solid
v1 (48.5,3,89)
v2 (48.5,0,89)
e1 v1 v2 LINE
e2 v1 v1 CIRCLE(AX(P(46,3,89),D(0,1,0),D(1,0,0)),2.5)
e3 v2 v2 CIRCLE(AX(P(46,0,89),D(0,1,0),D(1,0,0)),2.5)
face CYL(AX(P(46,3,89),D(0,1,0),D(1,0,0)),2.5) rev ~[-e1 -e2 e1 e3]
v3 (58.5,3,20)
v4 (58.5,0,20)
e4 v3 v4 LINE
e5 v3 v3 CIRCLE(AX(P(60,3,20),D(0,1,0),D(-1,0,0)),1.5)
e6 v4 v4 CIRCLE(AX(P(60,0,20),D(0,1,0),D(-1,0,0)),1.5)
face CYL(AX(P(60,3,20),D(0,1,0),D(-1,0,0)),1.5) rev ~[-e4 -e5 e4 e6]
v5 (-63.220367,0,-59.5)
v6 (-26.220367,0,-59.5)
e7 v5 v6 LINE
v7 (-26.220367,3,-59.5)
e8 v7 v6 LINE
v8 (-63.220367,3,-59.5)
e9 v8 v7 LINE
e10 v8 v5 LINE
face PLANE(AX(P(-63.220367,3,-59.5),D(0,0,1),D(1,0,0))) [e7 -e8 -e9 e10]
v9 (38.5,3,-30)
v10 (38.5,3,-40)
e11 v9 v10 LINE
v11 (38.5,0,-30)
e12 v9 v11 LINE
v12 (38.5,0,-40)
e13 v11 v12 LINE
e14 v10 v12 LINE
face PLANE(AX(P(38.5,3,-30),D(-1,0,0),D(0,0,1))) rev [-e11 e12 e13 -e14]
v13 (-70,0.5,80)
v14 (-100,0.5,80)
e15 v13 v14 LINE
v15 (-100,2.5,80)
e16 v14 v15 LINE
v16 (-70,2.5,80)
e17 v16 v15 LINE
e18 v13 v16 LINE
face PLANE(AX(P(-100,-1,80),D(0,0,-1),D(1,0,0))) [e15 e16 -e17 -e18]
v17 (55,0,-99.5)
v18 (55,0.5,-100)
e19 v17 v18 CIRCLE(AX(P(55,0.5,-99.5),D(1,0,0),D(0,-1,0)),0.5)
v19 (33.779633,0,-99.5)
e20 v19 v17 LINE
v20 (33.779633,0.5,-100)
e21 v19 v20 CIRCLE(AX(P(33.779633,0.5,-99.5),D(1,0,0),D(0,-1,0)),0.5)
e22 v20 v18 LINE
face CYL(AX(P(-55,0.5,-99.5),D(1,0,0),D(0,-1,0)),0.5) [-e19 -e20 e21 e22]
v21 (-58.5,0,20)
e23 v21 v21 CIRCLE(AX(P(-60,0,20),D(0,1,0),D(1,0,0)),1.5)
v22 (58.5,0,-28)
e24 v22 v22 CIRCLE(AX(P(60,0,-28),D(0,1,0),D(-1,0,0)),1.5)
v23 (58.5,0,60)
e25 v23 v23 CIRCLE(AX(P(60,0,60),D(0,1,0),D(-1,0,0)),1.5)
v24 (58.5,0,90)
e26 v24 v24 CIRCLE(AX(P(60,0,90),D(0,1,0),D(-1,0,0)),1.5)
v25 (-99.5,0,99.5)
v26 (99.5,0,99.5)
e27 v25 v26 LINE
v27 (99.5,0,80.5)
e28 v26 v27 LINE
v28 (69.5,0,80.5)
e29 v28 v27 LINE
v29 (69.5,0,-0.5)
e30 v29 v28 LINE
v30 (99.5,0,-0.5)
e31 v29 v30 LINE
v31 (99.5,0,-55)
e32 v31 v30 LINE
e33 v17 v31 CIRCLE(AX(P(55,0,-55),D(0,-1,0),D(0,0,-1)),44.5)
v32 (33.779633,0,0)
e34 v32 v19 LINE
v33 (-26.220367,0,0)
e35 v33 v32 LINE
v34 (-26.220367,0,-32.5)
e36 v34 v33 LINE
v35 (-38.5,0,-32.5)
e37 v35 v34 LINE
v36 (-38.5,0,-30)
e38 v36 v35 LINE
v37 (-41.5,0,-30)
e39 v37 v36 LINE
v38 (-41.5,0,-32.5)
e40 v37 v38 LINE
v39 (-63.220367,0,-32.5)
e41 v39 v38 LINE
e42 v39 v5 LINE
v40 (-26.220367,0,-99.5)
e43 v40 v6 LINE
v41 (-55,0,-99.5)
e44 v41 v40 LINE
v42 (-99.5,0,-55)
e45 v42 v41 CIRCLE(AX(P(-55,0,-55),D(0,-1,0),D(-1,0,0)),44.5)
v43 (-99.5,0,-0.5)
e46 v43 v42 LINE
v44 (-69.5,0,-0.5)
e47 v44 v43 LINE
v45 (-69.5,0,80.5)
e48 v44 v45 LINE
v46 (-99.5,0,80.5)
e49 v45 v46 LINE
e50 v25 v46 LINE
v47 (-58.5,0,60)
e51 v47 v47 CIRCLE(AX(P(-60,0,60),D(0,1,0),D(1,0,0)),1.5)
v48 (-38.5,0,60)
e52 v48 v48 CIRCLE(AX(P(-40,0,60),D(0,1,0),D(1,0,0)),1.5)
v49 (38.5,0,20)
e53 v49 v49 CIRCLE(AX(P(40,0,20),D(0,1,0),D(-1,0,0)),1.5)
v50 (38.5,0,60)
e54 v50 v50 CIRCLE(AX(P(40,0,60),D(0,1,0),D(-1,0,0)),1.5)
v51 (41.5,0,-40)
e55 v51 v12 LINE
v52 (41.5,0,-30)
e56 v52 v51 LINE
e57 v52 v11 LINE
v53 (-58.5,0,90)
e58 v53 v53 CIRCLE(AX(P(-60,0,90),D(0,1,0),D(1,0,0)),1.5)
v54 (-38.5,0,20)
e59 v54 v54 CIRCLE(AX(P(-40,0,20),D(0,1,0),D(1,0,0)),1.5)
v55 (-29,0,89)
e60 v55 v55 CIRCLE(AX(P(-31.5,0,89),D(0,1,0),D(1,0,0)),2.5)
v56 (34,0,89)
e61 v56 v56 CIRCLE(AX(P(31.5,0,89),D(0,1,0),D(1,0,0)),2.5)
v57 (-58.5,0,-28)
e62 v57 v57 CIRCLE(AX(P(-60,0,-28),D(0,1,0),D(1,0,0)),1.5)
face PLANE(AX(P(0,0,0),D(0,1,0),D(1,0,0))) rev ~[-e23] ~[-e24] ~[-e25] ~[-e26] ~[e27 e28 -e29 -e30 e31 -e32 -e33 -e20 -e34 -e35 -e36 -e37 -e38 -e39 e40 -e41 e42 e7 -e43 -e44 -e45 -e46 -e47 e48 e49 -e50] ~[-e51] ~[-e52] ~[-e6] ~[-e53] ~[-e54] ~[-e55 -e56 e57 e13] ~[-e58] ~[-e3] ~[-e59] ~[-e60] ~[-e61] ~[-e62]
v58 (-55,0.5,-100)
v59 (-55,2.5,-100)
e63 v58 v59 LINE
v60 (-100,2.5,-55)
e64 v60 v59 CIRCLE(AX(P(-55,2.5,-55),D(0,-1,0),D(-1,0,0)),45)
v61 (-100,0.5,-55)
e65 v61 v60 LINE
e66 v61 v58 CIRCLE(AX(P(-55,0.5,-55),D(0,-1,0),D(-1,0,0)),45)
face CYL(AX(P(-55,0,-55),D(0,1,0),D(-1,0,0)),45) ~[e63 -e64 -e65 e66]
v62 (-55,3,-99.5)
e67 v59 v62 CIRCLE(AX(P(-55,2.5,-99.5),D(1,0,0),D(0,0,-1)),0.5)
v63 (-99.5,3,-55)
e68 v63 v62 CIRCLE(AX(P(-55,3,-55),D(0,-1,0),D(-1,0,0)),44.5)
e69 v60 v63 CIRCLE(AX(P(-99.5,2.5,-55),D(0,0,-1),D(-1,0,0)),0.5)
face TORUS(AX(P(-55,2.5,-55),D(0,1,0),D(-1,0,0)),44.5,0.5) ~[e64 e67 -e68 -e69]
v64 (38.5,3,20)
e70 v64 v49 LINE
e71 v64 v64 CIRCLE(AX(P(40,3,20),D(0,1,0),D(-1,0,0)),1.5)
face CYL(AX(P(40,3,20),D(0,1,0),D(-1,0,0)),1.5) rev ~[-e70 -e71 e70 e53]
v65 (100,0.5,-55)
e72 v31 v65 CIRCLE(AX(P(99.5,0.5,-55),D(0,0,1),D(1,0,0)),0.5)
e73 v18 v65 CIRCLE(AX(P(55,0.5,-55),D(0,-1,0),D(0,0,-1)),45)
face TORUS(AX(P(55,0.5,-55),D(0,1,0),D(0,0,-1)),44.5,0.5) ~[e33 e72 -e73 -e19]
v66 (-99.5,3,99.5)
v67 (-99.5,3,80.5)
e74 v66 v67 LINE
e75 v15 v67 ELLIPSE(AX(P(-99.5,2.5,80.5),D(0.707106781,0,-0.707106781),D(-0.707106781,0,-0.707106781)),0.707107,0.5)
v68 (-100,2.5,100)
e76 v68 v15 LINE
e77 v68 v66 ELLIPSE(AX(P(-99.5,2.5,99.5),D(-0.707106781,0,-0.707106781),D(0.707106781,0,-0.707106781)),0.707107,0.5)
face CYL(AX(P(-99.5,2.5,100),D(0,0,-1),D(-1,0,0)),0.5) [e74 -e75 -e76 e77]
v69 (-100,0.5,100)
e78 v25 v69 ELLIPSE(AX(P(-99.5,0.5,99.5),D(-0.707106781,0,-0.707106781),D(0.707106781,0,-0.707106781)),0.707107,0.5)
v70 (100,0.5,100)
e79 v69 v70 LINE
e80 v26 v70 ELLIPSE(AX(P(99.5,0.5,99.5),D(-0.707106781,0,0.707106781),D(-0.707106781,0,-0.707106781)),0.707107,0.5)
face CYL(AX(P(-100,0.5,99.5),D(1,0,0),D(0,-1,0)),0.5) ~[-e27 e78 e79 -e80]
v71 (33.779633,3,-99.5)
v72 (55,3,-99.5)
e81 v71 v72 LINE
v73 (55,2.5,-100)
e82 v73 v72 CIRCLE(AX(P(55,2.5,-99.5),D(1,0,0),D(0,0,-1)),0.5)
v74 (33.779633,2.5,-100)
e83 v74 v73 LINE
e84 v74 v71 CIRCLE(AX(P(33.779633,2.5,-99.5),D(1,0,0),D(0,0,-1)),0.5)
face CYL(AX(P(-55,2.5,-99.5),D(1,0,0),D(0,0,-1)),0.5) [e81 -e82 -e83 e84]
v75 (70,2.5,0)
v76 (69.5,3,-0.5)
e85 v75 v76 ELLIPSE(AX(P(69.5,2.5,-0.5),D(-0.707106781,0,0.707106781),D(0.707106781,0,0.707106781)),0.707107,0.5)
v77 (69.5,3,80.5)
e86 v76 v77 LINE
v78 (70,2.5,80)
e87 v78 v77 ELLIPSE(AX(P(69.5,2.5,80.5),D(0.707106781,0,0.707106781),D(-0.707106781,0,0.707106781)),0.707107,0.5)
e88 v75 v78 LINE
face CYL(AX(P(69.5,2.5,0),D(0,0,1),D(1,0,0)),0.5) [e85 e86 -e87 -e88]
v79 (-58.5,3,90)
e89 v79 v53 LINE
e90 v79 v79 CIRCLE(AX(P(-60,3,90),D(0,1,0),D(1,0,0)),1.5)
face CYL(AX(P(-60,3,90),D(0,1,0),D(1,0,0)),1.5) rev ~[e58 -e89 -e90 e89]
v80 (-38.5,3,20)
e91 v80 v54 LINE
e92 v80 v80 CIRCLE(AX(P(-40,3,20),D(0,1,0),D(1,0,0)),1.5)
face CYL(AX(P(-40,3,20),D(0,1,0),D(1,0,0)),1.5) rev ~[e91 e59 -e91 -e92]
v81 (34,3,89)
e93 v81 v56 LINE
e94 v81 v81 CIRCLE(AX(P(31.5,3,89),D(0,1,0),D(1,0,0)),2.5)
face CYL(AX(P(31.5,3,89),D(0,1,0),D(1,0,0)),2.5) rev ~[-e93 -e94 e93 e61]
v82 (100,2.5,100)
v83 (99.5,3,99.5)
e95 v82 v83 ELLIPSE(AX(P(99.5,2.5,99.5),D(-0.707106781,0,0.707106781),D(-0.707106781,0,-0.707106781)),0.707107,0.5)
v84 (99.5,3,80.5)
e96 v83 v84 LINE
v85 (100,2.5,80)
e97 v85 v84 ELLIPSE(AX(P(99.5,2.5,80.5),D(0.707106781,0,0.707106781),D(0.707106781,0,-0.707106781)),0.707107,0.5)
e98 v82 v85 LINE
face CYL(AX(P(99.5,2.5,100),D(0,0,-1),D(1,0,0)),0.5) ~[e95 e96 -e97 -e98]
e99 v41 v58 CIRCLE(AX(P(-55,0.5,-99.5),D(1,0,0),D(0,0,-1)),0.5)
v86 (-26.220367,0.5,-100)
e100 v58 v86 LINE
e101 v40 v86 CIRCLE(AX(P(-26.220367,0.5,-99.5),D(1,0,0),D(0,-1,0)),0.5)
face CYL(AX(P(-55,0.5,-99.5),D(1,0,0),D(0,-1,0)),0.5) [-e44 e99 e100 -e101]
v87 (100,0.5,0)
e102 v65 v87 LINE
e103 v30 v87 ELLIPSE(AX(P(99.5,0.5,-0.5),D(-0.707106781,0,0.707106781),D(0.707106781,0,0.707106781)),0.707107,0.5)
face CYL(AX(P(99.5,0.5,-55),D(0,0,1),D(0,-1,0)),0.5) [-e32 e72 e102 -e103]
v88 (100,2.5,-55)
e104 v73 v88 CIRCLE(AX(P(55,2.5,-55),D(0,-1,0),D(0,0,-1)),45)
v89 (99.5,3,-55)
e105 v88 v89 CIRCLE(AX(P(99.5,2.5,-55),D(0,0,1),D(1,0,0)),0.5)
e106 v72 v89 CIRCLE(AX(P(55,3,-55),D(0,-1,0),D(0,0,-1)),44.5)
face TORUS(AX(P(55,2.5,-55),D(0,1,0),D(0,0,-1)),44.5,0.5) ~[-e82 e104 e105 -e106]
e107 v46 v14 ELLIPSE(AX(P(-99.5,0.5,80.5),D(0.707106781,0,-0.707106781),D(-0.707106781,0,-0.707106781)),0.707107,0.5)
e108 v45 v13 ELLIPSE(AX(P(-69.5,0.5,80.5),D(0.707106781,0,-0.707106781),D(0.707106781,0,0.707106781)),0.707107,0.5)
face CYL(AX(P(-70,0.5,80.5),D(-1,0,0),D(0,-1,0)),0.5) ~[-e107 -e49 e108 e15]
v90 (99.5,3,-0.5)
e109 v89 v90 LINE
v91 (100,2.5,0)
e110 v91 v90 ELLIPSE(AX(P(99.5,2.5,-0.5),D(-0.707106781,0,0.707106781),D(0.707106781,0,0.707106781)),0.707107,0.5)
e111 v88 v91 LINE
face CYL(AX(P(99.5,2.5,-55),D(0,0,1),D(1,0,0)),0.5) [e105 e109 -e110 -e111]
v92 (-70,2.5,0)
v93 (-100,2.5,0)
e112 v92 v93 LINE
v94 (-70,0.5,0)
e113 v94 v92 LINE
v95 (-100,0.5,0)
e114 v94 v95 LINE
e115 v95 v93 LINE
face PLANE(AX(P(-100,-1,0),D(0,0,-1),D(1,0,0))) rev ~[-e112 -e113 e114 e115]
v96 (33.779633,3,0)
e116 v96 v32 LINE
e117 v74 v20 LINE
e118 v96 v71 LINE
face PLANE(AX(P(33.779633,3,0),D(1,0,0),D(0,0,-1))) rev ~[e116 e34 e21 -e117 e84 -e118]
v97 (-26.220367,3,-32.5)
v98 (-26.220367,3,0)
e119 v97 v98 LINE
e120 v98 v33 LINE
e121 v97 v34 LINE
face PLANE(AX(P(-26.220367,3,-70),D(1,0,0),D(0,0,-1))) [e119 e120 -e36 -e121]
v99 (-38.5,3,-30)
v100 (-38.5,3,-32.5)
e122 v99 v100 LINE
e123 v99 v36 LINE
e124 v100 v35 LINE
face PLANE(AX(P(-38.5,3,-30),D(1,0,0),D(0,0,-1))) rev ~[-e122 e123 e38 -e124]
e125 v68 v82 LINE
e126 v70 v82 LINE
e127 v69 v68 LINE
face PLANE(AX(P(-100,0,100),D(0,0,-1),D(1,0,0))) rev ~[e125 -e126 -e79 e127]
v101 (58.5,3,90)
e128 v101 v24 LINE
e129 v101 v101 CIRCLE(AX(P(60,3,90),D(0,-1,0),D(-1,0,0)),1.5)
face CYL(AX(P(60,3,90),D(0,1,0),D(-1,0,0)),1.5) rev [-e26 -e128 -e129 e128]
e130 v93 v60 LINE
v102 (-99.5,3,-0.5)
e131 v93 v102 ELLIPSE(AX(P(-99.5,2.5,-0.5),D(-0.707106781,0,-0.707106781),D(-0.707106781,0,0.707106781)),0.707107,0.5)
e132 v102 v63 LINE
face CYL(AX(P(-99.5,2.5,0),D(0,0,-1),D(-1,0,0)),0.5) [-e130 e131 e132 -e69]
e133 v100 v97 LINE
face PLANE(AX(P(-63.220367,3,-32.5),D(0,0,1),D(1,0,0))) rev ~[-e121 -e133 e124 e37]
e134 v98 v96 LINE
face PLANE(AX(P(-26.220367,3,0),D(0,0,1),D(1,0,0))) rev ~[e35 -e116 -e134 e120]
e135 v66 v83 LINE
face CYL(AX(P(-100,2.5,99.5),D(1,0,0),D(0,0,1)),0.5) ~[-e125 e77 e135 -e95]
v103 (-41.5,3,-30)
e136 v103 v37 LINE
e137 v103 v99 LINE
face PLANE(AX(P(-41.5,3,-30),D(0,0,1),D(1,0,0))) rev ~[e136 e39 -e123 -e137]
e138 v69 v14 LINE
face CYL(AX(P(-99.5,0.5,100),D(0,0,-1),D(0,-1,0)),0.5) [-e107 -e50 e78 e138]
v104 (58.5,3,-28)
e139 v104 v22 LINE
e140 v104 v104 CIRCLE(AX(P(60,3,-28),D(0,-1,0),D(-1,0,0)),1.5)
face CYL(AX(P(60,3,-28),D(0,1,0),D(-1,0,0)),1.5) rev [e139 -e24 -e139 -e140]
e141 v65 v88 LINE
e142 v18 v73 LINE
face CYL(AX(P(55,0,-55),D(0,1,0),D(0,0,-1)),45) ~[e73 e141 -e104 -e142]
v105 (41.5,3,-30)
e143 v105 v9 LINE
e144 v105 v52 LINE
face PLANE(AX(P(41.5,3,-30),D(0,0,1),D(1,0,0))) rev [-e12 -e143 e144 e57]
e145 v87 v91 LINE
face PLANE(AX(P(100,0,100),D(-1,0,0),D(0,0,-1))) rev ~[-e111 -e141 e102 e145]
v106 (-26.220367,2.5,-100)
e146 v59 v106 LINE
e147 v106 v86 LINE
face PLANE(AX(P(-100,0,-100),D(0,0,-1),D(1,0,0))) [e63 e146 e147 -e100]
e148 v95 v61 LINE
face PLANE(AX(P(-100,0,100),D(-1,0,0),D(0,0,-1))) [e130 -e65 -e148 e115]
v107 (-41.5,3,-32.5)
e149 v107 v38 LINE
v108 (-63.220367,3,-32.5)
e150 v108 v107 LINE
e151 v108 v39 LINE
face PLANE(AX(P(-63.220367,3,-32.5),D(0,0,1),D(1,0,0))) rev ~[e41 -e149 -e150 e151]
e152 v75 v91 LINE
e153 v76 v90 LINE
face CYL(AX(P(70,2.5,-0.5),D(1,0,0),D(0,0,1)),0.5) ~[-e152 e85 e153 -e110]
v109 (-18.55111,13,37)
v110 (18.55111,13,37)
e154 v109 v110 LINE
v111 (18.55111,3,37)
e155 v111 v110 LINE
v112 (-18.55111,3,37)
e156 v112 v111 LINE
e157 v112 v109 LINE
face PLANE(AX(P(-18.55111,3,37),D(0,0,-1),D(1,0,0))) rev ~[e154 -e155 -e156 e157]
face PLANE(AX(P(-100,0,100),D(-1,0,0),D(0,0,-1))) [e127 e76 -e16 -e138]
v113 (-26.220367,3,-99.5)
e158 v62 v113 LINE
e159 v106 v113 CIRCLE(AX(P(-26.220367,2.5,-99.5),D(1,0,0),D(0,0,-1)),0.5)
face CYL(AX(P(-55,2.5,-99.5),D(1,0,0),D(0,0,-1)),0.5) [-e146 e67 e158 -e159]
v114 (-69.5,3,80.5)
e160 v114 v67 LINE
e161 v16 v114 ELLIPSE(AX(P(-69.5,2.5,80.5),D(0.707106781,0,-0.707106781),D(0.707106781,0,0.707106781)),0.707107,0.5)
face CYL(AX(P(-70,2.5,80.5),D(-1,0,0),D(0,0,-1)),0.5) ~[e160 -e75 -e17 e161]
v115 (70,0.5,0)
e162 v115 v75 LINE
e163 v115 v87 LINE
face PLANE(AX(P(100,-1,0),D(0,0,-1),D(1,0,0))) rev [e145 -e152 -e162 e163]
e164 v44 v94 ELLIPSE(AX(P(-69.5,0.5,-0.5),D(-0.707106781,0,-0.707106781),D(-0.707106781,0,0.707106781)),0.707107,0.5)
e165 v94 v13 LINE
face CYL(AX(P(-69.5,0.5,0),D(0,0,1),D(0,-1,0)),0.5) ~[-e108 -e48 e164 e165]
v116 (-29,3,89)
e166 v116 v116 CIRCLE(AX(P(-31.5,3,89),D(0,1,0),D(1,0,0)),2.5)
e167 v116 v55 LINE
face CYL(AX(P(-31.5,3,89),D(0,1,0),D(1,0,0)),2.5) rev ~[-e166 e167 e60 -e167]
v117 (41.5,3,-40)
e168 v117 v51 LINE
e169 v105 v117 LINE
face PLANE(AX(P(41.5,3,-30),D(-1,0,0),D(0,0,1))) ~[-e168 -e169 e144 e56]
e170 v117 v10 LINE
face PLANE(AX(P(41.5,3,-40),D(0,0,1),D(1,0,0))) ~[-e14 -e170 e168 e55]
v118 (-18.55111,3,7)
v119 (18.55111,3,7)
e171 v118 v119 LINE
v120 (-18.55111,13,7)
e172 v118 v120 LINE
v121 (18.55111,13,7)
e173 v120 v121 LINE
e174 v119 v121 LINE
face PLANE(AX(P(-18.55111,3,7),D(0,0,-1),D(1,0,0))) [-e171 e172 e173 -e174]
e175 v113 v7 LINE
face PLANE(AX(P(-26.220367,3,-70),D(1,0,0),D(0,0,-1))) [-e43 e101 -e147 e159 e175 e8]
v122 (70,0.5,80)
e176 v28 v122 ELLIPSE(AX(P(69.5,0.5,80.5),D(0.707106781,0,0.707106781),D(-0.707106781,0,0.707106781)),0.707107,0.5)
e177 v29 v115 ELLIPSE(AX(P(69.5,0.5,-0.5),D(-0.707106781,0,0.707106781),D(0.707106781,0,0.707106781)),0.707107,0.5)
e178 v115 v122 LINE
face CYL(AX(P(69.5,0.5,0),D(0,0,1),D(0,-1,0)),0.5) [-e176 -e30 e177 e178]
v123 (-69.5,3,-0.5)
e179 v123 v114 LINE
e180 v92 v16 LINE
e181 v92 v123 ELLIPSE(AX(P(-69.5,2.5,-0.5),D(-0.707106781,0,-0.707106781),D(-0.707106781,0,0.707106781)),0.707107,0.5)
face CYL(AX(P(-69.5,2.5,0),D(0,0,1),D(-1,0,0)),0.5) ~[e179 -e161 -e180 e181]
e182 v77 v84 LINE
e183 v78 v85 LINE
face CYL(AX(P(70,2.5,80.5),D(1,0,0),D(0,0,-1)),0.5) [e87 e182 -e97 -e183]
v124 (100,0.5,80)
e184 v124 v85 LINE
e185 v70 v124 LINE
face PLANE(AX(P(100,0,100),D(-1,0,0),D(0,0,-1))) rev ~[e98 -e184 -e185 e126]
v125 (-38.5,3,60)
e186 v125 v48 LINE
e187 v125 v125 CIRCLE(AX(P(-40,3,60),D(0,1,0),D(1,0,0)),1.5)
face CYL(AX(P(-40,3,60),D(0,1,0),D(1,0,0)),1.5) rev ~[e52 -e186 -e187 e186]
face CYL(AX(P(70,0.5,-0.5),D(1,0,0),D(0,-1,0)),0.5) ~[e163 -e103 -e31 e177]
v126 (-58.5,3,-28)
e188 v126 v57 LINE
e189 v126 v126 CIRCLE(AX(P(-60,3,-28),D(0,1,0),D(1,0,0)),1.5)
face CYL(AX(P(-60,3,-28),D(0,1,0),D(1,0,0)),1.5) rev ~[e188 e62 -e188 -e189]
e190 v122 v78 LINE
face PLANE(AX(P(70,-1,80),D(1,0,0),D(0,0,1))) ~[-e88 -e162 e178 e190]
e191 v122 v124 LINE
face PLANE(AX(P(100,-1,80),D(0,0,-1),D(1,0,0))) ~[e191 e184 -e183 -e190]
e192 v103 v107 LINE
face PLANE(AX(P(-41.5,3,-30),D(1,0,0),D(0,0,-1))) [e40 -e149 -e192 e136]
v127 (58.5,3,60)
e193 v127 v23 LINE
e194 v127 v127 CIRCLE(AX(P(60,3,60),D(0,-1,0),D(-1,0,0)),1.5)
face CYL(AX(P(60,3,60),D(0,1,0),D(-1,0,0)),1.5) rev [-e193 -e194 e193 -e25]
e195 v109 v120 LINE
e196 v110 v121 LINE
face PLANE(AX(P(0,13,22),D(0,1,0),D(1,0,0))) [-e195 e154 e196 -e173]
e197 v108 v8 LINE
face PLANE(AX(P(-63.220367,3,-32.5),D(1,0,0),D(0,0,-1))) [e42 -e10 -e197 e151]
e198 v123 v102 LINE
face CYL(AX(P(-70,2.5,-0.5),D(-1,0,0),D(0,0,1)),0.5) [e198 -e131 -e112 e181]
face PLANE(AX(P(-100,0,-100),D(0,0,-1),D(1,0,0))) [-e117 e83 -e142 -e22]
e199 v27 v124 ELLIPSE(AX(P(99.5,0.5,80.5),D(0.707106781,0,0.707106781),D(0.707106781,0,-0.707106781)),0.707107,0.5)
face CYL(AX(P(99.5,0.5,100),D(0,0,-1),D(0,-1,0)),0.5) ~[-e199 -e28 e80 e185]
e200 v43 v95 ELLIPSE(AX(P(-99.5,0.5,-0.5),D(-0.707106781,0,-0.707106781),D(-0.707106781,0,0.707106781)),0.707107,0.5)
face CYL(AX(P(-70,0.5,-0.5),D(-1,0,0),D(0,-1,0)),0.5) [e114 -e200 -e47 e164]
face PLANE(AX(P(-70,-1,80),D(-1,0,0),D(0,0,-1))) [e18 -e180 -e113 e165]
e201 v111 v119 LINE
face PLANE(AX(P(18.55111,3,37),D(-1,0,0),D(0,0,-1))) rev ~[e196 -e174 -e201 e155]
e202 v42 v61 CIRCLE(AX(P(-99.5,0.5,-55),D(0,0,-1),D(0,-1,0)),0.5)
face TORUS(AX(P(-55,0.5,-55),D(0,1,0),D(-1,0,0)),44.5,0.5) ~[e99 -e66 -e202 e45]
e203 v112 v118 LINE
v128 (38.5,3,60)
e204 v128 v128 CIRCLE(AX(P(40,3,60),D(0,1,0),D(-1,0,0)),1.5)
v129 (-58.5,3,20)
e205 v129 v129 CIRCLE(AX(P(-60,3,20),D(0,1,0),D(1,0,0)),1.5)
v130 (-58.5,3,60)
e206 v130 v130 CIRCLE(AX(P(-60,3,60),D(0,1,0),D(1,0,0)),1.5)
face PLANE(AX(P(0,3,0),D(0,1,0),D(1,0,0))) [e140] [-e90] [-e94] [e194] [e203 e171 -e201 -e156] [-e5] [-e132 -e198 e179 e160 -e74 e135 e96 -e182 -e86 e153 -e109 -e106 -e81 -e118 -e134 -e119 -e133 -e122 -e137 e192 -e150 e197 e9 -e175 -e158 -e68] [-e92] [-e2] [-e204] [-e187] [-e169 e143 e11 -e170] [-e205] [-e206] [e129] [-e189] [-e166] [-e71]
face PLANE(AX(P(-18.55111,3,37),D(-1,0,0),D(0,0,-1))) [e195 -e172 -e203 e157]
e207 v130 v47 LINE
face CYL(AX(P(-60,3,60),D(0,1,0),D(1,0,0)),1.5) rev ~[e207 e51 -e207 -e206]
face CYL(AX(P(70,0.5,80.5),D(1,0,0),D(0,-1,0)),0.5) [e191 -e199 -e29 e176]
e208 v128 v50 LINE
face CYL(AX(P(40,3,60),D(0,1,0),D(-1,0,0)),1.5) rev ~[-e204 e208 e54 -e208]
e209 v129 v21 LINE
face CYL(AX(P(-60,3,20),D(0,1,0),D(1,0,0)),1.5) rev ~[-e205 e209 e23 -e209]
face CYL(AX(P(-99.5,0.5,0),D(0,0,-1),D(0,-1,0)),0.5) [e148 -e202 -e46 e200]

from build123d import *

# Parameters (mm, degrees)
SKETCH1_W               = 200
SKETCH1_H               = 200
BOSS_EXTRUDE1_DEPTH     = 3
CUT_EXTRUDE1_START      = -4
SKETCH2_W               = 30
SKETCH2_H               = 80
CUT_EXTRUDE1_DEPTH      = 14
FILLET1_R               = 45
SKETCH10_R              = 1.5
CUT_EXTRUDE9_DEPTH      = 4
LPATTERN1_COUNT         = 2
LPATTERN1_PITCH         = 40
LPATTERN1_COUNT_DIR2    = 2
LPATTERN1_PITCH_DIR2    = 20
SKETCH13_R              = 1.5
SKETCH13_W              = 3
SKETCH13_H              = 10
CUT_EXTRUDE10_DEPTH     = 4
SKETCH14_R              = 1.5
CUT_EXTRUDE11_DEPTH     = 4
MIRROR1_COPY_1_SKETCH_R = 1.5
MIRROR1_COPY_1_DEPTH    = 4
MIRROR1_COPY_2_SKETCH_R = 1.5
MIRROR1_COPY_2_DEPTH    = 4
MIRROR1_COPY_3_SKETCH_R = 1.5
MIRROR1_COPY_3_DEPTH    = 4
FILLET2_R               = 0.5
SKETCH23_W              = 60
SKETCH23_H              = 70
CUT_EXTRUDE13_DEPTH     = 10
SKETCH25_W              = 60
SKETCH25_H              = 33
CUT_EXTRUDE15_DEPTH     = 10
SKETCH26_W              = 37.10221973
SKETCH26_H              = 30
BOSS_EXTRUDE3_DEPTH     = 10
SKETCH27_W              = 37
SKETCH27_H              = 27
CUT_EXTRUDE16_DEPTH     = 10
SKETCH30_R              = 2.5
CUT_EXTRUDE17_DEPTH     = 10
SKETCH31_R              = 2.5
CUT_EXTRUDE18_DEPTH     = 10


with BuildPart() as part:
    # Sketch1 → Boss-Extrude1 (new body)
    with BuildSketch(Plane(origin=(0, 0, 0), x_dir=(1, 0, 0), z_dir=(0, 1, 0))):
        Rectangle(SKETCH1_W, SKETCH1_H)
    extrude(amount=BOSS_EXTRUDE1_DEPTH)

    # Sketch2 → Cut-Extrude1 (cut)
    with BuildSketch(Plane(origin=(0, 3, 0), x_dir=(1, 0, 0), z_dir=(0, 1, 0)).offset(CUT_EXTRUDE1_START)):
        with Locations((-85, -40)):
            Rectangle(SKETCH2_W, SKETCH2_H)
    cut_extrude1 = extrude(amount=CUT_EXTRUDE1_DEPTH, mode=Mode.SUBTRACT)

    # Fillet1
    fillet1_edges = [part.edges().sort_by_distance(p)[0] for p in [
        (-100, 1.5, -100),
        (100, 1.5, -100),
    ]]
    fillet(fillet1_edges, radius=FILLET1_R)

    # Sketch10 → Cut-Extrude9 (cut, through all)
    with BuildSketch(Plane(origin=(0, 3, 0), x_dir=(1, 0, 0), z_dir=(0, 1, 0))):
        with Locations((-60, -60)):
            Circle(SKETCH10_R)
    cut_extrude9 = extrude(amount=-CUT_EXTRUDE9_DEPTH, mode=Mode.SUBTRACT)

    # LPattern1: Cut-Extrude9 2 × 2
    with Locations(*[(j * LPATTERN1_PITCH_DIR2, 0, -i * LPATTERN1_PITCH) for i in range(LPATTERN1_COUNT) for j in range(LPATTERN1_COUNT_DIR2) if (i, j) != (0, 0)]):
        add(cut_extrude9, mode=Mode.SUBTRACT)

    # Sketch13 → Cut-Extrude10 (cut, through all)
    with BuildSketch(Plane(origin=(0, 3, 0), x_dir=(1, 0, 0), z_dir=(0, 1, 0))):
        with Locations((-60, 28)):
            Circle(SKETCH13_R)
        with Locations((-40, 35)):
            Rectangle(SKETCH13_W, SKETCH13_H)
    cut_extrude10 = extrude(amount=-CUT_EXTRUDE10_DEPTH, mode=Mode.SUBTRACT)

    # Sketch14 → Cut-Extrude11 (cut, through all)
    with BuildSketch(Plane(origin=(0, 3, 0), x_dir=(1, 0, 0), z_dir=(0, 1, 0))):
        with Locations((-60, -90)):
            Circle(SKETCH14_R)
    cut_extrude11 = extrude(amount=-CUT_EXTRUDE11_DEPTH, mode=Mode.SUBTRACT)

    # Mirror1: Cut-Extrude10, Cut-Extrude9, Cut-Extrude1, Cut-Extrude11 across plane
    add(cut_extrude10.mirror(Plane(origin=(0, 0, 0), x_dir=(0, 0, 1), z_dir=(1, 0, 0))), mode=Mode.SUBTRACT)
    add(cut_extrude9.mirror(Plane(origin=(0, 0, 0), x_dir=(0, 0, 1), z_dir=(1, 0, 0))), mode=Mode.SUBTRACT)
    add(cut_extrude1.mirror(Plane(origin=(0, 0, 0), x_dir=(0, 0, 1), z_dir=(1, 0, 0))), mode=Mode.SUBTRACT)
    add(cut_extrude11.mirror(Plane(origin=(0, 0, 0), x_dir=(0, 0, 1), z_dir=(1, 0, 0))), mode=Mode.SUBTRACT)

    # Mirror1 copy 1 sketch → Mirror1 copy 1 (cut, through all)
    with BuildSketch(Plane(origin=(-20, 3, 0), x_dir=(-1, 0, 0), z_dir=(0, 1, 0))):
        with Locations((-60, 60)):
            Circle(MIRROR1_COPY_1_SKETCH_R)
    extrude(amount=-MIRROR1_COPY_1_DEPTH, mode=Mode.SUBTRACT)

    # Mirror1 copy 2 sketch → Mirror1 copy 2 (cut, through all)
    with BuildSketch(Plane(origin=(0, 3, -40), x_dir=(-1, 0, 0), z_dir=(0, 1, 0))):
        with Locations((-60, 60)):
            Circle(MIRROR1_COPY_2_SKETCH_R)
    extrude(amount=-MIRROR1_COPY_2_DEPTH, mode=Mode.SUBTRACT)

    # Mirror1 copy 3 sketch → Mirror1 copy 3 (cut, through all)
    with BuildSketch(Plane(origin=(-20, 3, -40), x_dir=(-1, 0, 0), z_dir=(0, 1, 0))):
        with Locations((-60, 60)):
            Circle(MIRROR1_COPY_3_SKETCH_R)
    extrude(amount=-MIRROR1_COPY_3_DEPTH, mode=Mode.SUBTRACT)

    # Fillet2
    fillet2_edges = [part.edges().sort_by_distance(p)[0] for p in [
        (100, 3, 90),
        (-100, 0, 90),
        (-100, 3, 90),
        (-70, 3, 40),
        (-70, 0, 40),
        (-85, 3, 0),
        (-85, 0, 0),
        (-85, 3, 80),
        (-85, 0, 80),
        (0, 0, -100),
        (0, 3, -100),
        (-100, 0, -27.5),
        (-86.819805153, 0, -86.819805153),
        (86.819805153, 0, -86.819805153),
        (-100, 3, -27.5),
        (-86.819805153, 3, -86.819805153),
        (86.819805153, 3, -86.819805153),
        (100, 0, 90),
        (0, 0, 100),
        (0, 3, 100),
        (100, 0, -27.5),
        (100, 3, -27.5),
        (70, 3, 40),
        (85, 3, 80),
        (85, 3, 0),
        (70, 0, 40),
        (85, 0, 0),
        (85, 0, 80),
    ]]
    fillet(fillet2_edges, radius=FILLET2_R)

    # Sketch23 → Cut-Extrude13 (cut)
    with BuildSketch(Plane(origin=(0, 3, 0), x_dir=(1, 0, 0), z_dir=(0, 1, 0))):
        with Locations((3.779632889, 35)):
            Rectangle(SKETCH23_W, SKETCH23_H)
    extrude(amount=-CUT_EXTRUDE13_DEPTH, mode=Mode.SUBTRACT)

    # Sketch25 → Cut-Extrude15 (cut)
    with BuildSketch(Plane(origin=(0, 3, 0), x_dir=(1, 0, 0), z_dir=(0, 1, 0))):
        with Locations((3.779632889, 86.5)):
            Rectangle(SKETCH25_W, SKETCH25_H)
    extrude(amount=-CUT_EXTRUDE15_DEPTH, mode=Mode.SUBTRACT)

    # Sketch26 → Boss-Extrude3 (add)
    with BuildSketch(Plane(origin=(0, 3, 0), x_dir=(1, 0, 0), z_dir=(0, 1, 0))):
        with Locations((0, -22)):
            Rectangle(SKETCH26_W, SKETCH26_H)
    extrude(amount=BOSS_EXTRUDE3_DEPTH)

    # Sketch27 → Cut-Extrude16 (cut)
    with BuildSketch(Plane(origin=(0, 3, 0), x_dir=(1, 0, 0), z_dir=(0, 1, 0))):
        with Locations((-44.720367111, 46)):
            Rectangle(SKETCH27_W, SKETCH27_H)
    extrude(amount=-CUT_EXTRUDE16_DEPTH, mode=Mode.SUBTRACT)

    # Sketch30 → Cut-Extrude17 (cut)
    with BuildSketch(Plane(origin=(0, 3, 0), x_dir=(1, 0, 0), z_dir=(0, 1, 0))):
        with Locations((-31.5, -89)):
            Circle(SKETCH30_R)
        with Locations((31.5, -89)):
            Circle(SKETCH30_R)
    extrude(amount=-CUT_EXTRUDE17_DEPTH, mode=Mode.SUBTRACT)

    # Sketch31 → Cut-Extrude18 (cut)
    with BuildSketch(Plane(origin=(0, 3, 0), x_dir=(1, 0, 0), z_dir=(0, 1, 0))):
        with Locations((46, -89)):
            Circle(SKETCH31_R)
    extrude(amount=-CUT_EXTRUDE18_DEPTH, mode=Mode.SUBTRACT)


solid = part.part
